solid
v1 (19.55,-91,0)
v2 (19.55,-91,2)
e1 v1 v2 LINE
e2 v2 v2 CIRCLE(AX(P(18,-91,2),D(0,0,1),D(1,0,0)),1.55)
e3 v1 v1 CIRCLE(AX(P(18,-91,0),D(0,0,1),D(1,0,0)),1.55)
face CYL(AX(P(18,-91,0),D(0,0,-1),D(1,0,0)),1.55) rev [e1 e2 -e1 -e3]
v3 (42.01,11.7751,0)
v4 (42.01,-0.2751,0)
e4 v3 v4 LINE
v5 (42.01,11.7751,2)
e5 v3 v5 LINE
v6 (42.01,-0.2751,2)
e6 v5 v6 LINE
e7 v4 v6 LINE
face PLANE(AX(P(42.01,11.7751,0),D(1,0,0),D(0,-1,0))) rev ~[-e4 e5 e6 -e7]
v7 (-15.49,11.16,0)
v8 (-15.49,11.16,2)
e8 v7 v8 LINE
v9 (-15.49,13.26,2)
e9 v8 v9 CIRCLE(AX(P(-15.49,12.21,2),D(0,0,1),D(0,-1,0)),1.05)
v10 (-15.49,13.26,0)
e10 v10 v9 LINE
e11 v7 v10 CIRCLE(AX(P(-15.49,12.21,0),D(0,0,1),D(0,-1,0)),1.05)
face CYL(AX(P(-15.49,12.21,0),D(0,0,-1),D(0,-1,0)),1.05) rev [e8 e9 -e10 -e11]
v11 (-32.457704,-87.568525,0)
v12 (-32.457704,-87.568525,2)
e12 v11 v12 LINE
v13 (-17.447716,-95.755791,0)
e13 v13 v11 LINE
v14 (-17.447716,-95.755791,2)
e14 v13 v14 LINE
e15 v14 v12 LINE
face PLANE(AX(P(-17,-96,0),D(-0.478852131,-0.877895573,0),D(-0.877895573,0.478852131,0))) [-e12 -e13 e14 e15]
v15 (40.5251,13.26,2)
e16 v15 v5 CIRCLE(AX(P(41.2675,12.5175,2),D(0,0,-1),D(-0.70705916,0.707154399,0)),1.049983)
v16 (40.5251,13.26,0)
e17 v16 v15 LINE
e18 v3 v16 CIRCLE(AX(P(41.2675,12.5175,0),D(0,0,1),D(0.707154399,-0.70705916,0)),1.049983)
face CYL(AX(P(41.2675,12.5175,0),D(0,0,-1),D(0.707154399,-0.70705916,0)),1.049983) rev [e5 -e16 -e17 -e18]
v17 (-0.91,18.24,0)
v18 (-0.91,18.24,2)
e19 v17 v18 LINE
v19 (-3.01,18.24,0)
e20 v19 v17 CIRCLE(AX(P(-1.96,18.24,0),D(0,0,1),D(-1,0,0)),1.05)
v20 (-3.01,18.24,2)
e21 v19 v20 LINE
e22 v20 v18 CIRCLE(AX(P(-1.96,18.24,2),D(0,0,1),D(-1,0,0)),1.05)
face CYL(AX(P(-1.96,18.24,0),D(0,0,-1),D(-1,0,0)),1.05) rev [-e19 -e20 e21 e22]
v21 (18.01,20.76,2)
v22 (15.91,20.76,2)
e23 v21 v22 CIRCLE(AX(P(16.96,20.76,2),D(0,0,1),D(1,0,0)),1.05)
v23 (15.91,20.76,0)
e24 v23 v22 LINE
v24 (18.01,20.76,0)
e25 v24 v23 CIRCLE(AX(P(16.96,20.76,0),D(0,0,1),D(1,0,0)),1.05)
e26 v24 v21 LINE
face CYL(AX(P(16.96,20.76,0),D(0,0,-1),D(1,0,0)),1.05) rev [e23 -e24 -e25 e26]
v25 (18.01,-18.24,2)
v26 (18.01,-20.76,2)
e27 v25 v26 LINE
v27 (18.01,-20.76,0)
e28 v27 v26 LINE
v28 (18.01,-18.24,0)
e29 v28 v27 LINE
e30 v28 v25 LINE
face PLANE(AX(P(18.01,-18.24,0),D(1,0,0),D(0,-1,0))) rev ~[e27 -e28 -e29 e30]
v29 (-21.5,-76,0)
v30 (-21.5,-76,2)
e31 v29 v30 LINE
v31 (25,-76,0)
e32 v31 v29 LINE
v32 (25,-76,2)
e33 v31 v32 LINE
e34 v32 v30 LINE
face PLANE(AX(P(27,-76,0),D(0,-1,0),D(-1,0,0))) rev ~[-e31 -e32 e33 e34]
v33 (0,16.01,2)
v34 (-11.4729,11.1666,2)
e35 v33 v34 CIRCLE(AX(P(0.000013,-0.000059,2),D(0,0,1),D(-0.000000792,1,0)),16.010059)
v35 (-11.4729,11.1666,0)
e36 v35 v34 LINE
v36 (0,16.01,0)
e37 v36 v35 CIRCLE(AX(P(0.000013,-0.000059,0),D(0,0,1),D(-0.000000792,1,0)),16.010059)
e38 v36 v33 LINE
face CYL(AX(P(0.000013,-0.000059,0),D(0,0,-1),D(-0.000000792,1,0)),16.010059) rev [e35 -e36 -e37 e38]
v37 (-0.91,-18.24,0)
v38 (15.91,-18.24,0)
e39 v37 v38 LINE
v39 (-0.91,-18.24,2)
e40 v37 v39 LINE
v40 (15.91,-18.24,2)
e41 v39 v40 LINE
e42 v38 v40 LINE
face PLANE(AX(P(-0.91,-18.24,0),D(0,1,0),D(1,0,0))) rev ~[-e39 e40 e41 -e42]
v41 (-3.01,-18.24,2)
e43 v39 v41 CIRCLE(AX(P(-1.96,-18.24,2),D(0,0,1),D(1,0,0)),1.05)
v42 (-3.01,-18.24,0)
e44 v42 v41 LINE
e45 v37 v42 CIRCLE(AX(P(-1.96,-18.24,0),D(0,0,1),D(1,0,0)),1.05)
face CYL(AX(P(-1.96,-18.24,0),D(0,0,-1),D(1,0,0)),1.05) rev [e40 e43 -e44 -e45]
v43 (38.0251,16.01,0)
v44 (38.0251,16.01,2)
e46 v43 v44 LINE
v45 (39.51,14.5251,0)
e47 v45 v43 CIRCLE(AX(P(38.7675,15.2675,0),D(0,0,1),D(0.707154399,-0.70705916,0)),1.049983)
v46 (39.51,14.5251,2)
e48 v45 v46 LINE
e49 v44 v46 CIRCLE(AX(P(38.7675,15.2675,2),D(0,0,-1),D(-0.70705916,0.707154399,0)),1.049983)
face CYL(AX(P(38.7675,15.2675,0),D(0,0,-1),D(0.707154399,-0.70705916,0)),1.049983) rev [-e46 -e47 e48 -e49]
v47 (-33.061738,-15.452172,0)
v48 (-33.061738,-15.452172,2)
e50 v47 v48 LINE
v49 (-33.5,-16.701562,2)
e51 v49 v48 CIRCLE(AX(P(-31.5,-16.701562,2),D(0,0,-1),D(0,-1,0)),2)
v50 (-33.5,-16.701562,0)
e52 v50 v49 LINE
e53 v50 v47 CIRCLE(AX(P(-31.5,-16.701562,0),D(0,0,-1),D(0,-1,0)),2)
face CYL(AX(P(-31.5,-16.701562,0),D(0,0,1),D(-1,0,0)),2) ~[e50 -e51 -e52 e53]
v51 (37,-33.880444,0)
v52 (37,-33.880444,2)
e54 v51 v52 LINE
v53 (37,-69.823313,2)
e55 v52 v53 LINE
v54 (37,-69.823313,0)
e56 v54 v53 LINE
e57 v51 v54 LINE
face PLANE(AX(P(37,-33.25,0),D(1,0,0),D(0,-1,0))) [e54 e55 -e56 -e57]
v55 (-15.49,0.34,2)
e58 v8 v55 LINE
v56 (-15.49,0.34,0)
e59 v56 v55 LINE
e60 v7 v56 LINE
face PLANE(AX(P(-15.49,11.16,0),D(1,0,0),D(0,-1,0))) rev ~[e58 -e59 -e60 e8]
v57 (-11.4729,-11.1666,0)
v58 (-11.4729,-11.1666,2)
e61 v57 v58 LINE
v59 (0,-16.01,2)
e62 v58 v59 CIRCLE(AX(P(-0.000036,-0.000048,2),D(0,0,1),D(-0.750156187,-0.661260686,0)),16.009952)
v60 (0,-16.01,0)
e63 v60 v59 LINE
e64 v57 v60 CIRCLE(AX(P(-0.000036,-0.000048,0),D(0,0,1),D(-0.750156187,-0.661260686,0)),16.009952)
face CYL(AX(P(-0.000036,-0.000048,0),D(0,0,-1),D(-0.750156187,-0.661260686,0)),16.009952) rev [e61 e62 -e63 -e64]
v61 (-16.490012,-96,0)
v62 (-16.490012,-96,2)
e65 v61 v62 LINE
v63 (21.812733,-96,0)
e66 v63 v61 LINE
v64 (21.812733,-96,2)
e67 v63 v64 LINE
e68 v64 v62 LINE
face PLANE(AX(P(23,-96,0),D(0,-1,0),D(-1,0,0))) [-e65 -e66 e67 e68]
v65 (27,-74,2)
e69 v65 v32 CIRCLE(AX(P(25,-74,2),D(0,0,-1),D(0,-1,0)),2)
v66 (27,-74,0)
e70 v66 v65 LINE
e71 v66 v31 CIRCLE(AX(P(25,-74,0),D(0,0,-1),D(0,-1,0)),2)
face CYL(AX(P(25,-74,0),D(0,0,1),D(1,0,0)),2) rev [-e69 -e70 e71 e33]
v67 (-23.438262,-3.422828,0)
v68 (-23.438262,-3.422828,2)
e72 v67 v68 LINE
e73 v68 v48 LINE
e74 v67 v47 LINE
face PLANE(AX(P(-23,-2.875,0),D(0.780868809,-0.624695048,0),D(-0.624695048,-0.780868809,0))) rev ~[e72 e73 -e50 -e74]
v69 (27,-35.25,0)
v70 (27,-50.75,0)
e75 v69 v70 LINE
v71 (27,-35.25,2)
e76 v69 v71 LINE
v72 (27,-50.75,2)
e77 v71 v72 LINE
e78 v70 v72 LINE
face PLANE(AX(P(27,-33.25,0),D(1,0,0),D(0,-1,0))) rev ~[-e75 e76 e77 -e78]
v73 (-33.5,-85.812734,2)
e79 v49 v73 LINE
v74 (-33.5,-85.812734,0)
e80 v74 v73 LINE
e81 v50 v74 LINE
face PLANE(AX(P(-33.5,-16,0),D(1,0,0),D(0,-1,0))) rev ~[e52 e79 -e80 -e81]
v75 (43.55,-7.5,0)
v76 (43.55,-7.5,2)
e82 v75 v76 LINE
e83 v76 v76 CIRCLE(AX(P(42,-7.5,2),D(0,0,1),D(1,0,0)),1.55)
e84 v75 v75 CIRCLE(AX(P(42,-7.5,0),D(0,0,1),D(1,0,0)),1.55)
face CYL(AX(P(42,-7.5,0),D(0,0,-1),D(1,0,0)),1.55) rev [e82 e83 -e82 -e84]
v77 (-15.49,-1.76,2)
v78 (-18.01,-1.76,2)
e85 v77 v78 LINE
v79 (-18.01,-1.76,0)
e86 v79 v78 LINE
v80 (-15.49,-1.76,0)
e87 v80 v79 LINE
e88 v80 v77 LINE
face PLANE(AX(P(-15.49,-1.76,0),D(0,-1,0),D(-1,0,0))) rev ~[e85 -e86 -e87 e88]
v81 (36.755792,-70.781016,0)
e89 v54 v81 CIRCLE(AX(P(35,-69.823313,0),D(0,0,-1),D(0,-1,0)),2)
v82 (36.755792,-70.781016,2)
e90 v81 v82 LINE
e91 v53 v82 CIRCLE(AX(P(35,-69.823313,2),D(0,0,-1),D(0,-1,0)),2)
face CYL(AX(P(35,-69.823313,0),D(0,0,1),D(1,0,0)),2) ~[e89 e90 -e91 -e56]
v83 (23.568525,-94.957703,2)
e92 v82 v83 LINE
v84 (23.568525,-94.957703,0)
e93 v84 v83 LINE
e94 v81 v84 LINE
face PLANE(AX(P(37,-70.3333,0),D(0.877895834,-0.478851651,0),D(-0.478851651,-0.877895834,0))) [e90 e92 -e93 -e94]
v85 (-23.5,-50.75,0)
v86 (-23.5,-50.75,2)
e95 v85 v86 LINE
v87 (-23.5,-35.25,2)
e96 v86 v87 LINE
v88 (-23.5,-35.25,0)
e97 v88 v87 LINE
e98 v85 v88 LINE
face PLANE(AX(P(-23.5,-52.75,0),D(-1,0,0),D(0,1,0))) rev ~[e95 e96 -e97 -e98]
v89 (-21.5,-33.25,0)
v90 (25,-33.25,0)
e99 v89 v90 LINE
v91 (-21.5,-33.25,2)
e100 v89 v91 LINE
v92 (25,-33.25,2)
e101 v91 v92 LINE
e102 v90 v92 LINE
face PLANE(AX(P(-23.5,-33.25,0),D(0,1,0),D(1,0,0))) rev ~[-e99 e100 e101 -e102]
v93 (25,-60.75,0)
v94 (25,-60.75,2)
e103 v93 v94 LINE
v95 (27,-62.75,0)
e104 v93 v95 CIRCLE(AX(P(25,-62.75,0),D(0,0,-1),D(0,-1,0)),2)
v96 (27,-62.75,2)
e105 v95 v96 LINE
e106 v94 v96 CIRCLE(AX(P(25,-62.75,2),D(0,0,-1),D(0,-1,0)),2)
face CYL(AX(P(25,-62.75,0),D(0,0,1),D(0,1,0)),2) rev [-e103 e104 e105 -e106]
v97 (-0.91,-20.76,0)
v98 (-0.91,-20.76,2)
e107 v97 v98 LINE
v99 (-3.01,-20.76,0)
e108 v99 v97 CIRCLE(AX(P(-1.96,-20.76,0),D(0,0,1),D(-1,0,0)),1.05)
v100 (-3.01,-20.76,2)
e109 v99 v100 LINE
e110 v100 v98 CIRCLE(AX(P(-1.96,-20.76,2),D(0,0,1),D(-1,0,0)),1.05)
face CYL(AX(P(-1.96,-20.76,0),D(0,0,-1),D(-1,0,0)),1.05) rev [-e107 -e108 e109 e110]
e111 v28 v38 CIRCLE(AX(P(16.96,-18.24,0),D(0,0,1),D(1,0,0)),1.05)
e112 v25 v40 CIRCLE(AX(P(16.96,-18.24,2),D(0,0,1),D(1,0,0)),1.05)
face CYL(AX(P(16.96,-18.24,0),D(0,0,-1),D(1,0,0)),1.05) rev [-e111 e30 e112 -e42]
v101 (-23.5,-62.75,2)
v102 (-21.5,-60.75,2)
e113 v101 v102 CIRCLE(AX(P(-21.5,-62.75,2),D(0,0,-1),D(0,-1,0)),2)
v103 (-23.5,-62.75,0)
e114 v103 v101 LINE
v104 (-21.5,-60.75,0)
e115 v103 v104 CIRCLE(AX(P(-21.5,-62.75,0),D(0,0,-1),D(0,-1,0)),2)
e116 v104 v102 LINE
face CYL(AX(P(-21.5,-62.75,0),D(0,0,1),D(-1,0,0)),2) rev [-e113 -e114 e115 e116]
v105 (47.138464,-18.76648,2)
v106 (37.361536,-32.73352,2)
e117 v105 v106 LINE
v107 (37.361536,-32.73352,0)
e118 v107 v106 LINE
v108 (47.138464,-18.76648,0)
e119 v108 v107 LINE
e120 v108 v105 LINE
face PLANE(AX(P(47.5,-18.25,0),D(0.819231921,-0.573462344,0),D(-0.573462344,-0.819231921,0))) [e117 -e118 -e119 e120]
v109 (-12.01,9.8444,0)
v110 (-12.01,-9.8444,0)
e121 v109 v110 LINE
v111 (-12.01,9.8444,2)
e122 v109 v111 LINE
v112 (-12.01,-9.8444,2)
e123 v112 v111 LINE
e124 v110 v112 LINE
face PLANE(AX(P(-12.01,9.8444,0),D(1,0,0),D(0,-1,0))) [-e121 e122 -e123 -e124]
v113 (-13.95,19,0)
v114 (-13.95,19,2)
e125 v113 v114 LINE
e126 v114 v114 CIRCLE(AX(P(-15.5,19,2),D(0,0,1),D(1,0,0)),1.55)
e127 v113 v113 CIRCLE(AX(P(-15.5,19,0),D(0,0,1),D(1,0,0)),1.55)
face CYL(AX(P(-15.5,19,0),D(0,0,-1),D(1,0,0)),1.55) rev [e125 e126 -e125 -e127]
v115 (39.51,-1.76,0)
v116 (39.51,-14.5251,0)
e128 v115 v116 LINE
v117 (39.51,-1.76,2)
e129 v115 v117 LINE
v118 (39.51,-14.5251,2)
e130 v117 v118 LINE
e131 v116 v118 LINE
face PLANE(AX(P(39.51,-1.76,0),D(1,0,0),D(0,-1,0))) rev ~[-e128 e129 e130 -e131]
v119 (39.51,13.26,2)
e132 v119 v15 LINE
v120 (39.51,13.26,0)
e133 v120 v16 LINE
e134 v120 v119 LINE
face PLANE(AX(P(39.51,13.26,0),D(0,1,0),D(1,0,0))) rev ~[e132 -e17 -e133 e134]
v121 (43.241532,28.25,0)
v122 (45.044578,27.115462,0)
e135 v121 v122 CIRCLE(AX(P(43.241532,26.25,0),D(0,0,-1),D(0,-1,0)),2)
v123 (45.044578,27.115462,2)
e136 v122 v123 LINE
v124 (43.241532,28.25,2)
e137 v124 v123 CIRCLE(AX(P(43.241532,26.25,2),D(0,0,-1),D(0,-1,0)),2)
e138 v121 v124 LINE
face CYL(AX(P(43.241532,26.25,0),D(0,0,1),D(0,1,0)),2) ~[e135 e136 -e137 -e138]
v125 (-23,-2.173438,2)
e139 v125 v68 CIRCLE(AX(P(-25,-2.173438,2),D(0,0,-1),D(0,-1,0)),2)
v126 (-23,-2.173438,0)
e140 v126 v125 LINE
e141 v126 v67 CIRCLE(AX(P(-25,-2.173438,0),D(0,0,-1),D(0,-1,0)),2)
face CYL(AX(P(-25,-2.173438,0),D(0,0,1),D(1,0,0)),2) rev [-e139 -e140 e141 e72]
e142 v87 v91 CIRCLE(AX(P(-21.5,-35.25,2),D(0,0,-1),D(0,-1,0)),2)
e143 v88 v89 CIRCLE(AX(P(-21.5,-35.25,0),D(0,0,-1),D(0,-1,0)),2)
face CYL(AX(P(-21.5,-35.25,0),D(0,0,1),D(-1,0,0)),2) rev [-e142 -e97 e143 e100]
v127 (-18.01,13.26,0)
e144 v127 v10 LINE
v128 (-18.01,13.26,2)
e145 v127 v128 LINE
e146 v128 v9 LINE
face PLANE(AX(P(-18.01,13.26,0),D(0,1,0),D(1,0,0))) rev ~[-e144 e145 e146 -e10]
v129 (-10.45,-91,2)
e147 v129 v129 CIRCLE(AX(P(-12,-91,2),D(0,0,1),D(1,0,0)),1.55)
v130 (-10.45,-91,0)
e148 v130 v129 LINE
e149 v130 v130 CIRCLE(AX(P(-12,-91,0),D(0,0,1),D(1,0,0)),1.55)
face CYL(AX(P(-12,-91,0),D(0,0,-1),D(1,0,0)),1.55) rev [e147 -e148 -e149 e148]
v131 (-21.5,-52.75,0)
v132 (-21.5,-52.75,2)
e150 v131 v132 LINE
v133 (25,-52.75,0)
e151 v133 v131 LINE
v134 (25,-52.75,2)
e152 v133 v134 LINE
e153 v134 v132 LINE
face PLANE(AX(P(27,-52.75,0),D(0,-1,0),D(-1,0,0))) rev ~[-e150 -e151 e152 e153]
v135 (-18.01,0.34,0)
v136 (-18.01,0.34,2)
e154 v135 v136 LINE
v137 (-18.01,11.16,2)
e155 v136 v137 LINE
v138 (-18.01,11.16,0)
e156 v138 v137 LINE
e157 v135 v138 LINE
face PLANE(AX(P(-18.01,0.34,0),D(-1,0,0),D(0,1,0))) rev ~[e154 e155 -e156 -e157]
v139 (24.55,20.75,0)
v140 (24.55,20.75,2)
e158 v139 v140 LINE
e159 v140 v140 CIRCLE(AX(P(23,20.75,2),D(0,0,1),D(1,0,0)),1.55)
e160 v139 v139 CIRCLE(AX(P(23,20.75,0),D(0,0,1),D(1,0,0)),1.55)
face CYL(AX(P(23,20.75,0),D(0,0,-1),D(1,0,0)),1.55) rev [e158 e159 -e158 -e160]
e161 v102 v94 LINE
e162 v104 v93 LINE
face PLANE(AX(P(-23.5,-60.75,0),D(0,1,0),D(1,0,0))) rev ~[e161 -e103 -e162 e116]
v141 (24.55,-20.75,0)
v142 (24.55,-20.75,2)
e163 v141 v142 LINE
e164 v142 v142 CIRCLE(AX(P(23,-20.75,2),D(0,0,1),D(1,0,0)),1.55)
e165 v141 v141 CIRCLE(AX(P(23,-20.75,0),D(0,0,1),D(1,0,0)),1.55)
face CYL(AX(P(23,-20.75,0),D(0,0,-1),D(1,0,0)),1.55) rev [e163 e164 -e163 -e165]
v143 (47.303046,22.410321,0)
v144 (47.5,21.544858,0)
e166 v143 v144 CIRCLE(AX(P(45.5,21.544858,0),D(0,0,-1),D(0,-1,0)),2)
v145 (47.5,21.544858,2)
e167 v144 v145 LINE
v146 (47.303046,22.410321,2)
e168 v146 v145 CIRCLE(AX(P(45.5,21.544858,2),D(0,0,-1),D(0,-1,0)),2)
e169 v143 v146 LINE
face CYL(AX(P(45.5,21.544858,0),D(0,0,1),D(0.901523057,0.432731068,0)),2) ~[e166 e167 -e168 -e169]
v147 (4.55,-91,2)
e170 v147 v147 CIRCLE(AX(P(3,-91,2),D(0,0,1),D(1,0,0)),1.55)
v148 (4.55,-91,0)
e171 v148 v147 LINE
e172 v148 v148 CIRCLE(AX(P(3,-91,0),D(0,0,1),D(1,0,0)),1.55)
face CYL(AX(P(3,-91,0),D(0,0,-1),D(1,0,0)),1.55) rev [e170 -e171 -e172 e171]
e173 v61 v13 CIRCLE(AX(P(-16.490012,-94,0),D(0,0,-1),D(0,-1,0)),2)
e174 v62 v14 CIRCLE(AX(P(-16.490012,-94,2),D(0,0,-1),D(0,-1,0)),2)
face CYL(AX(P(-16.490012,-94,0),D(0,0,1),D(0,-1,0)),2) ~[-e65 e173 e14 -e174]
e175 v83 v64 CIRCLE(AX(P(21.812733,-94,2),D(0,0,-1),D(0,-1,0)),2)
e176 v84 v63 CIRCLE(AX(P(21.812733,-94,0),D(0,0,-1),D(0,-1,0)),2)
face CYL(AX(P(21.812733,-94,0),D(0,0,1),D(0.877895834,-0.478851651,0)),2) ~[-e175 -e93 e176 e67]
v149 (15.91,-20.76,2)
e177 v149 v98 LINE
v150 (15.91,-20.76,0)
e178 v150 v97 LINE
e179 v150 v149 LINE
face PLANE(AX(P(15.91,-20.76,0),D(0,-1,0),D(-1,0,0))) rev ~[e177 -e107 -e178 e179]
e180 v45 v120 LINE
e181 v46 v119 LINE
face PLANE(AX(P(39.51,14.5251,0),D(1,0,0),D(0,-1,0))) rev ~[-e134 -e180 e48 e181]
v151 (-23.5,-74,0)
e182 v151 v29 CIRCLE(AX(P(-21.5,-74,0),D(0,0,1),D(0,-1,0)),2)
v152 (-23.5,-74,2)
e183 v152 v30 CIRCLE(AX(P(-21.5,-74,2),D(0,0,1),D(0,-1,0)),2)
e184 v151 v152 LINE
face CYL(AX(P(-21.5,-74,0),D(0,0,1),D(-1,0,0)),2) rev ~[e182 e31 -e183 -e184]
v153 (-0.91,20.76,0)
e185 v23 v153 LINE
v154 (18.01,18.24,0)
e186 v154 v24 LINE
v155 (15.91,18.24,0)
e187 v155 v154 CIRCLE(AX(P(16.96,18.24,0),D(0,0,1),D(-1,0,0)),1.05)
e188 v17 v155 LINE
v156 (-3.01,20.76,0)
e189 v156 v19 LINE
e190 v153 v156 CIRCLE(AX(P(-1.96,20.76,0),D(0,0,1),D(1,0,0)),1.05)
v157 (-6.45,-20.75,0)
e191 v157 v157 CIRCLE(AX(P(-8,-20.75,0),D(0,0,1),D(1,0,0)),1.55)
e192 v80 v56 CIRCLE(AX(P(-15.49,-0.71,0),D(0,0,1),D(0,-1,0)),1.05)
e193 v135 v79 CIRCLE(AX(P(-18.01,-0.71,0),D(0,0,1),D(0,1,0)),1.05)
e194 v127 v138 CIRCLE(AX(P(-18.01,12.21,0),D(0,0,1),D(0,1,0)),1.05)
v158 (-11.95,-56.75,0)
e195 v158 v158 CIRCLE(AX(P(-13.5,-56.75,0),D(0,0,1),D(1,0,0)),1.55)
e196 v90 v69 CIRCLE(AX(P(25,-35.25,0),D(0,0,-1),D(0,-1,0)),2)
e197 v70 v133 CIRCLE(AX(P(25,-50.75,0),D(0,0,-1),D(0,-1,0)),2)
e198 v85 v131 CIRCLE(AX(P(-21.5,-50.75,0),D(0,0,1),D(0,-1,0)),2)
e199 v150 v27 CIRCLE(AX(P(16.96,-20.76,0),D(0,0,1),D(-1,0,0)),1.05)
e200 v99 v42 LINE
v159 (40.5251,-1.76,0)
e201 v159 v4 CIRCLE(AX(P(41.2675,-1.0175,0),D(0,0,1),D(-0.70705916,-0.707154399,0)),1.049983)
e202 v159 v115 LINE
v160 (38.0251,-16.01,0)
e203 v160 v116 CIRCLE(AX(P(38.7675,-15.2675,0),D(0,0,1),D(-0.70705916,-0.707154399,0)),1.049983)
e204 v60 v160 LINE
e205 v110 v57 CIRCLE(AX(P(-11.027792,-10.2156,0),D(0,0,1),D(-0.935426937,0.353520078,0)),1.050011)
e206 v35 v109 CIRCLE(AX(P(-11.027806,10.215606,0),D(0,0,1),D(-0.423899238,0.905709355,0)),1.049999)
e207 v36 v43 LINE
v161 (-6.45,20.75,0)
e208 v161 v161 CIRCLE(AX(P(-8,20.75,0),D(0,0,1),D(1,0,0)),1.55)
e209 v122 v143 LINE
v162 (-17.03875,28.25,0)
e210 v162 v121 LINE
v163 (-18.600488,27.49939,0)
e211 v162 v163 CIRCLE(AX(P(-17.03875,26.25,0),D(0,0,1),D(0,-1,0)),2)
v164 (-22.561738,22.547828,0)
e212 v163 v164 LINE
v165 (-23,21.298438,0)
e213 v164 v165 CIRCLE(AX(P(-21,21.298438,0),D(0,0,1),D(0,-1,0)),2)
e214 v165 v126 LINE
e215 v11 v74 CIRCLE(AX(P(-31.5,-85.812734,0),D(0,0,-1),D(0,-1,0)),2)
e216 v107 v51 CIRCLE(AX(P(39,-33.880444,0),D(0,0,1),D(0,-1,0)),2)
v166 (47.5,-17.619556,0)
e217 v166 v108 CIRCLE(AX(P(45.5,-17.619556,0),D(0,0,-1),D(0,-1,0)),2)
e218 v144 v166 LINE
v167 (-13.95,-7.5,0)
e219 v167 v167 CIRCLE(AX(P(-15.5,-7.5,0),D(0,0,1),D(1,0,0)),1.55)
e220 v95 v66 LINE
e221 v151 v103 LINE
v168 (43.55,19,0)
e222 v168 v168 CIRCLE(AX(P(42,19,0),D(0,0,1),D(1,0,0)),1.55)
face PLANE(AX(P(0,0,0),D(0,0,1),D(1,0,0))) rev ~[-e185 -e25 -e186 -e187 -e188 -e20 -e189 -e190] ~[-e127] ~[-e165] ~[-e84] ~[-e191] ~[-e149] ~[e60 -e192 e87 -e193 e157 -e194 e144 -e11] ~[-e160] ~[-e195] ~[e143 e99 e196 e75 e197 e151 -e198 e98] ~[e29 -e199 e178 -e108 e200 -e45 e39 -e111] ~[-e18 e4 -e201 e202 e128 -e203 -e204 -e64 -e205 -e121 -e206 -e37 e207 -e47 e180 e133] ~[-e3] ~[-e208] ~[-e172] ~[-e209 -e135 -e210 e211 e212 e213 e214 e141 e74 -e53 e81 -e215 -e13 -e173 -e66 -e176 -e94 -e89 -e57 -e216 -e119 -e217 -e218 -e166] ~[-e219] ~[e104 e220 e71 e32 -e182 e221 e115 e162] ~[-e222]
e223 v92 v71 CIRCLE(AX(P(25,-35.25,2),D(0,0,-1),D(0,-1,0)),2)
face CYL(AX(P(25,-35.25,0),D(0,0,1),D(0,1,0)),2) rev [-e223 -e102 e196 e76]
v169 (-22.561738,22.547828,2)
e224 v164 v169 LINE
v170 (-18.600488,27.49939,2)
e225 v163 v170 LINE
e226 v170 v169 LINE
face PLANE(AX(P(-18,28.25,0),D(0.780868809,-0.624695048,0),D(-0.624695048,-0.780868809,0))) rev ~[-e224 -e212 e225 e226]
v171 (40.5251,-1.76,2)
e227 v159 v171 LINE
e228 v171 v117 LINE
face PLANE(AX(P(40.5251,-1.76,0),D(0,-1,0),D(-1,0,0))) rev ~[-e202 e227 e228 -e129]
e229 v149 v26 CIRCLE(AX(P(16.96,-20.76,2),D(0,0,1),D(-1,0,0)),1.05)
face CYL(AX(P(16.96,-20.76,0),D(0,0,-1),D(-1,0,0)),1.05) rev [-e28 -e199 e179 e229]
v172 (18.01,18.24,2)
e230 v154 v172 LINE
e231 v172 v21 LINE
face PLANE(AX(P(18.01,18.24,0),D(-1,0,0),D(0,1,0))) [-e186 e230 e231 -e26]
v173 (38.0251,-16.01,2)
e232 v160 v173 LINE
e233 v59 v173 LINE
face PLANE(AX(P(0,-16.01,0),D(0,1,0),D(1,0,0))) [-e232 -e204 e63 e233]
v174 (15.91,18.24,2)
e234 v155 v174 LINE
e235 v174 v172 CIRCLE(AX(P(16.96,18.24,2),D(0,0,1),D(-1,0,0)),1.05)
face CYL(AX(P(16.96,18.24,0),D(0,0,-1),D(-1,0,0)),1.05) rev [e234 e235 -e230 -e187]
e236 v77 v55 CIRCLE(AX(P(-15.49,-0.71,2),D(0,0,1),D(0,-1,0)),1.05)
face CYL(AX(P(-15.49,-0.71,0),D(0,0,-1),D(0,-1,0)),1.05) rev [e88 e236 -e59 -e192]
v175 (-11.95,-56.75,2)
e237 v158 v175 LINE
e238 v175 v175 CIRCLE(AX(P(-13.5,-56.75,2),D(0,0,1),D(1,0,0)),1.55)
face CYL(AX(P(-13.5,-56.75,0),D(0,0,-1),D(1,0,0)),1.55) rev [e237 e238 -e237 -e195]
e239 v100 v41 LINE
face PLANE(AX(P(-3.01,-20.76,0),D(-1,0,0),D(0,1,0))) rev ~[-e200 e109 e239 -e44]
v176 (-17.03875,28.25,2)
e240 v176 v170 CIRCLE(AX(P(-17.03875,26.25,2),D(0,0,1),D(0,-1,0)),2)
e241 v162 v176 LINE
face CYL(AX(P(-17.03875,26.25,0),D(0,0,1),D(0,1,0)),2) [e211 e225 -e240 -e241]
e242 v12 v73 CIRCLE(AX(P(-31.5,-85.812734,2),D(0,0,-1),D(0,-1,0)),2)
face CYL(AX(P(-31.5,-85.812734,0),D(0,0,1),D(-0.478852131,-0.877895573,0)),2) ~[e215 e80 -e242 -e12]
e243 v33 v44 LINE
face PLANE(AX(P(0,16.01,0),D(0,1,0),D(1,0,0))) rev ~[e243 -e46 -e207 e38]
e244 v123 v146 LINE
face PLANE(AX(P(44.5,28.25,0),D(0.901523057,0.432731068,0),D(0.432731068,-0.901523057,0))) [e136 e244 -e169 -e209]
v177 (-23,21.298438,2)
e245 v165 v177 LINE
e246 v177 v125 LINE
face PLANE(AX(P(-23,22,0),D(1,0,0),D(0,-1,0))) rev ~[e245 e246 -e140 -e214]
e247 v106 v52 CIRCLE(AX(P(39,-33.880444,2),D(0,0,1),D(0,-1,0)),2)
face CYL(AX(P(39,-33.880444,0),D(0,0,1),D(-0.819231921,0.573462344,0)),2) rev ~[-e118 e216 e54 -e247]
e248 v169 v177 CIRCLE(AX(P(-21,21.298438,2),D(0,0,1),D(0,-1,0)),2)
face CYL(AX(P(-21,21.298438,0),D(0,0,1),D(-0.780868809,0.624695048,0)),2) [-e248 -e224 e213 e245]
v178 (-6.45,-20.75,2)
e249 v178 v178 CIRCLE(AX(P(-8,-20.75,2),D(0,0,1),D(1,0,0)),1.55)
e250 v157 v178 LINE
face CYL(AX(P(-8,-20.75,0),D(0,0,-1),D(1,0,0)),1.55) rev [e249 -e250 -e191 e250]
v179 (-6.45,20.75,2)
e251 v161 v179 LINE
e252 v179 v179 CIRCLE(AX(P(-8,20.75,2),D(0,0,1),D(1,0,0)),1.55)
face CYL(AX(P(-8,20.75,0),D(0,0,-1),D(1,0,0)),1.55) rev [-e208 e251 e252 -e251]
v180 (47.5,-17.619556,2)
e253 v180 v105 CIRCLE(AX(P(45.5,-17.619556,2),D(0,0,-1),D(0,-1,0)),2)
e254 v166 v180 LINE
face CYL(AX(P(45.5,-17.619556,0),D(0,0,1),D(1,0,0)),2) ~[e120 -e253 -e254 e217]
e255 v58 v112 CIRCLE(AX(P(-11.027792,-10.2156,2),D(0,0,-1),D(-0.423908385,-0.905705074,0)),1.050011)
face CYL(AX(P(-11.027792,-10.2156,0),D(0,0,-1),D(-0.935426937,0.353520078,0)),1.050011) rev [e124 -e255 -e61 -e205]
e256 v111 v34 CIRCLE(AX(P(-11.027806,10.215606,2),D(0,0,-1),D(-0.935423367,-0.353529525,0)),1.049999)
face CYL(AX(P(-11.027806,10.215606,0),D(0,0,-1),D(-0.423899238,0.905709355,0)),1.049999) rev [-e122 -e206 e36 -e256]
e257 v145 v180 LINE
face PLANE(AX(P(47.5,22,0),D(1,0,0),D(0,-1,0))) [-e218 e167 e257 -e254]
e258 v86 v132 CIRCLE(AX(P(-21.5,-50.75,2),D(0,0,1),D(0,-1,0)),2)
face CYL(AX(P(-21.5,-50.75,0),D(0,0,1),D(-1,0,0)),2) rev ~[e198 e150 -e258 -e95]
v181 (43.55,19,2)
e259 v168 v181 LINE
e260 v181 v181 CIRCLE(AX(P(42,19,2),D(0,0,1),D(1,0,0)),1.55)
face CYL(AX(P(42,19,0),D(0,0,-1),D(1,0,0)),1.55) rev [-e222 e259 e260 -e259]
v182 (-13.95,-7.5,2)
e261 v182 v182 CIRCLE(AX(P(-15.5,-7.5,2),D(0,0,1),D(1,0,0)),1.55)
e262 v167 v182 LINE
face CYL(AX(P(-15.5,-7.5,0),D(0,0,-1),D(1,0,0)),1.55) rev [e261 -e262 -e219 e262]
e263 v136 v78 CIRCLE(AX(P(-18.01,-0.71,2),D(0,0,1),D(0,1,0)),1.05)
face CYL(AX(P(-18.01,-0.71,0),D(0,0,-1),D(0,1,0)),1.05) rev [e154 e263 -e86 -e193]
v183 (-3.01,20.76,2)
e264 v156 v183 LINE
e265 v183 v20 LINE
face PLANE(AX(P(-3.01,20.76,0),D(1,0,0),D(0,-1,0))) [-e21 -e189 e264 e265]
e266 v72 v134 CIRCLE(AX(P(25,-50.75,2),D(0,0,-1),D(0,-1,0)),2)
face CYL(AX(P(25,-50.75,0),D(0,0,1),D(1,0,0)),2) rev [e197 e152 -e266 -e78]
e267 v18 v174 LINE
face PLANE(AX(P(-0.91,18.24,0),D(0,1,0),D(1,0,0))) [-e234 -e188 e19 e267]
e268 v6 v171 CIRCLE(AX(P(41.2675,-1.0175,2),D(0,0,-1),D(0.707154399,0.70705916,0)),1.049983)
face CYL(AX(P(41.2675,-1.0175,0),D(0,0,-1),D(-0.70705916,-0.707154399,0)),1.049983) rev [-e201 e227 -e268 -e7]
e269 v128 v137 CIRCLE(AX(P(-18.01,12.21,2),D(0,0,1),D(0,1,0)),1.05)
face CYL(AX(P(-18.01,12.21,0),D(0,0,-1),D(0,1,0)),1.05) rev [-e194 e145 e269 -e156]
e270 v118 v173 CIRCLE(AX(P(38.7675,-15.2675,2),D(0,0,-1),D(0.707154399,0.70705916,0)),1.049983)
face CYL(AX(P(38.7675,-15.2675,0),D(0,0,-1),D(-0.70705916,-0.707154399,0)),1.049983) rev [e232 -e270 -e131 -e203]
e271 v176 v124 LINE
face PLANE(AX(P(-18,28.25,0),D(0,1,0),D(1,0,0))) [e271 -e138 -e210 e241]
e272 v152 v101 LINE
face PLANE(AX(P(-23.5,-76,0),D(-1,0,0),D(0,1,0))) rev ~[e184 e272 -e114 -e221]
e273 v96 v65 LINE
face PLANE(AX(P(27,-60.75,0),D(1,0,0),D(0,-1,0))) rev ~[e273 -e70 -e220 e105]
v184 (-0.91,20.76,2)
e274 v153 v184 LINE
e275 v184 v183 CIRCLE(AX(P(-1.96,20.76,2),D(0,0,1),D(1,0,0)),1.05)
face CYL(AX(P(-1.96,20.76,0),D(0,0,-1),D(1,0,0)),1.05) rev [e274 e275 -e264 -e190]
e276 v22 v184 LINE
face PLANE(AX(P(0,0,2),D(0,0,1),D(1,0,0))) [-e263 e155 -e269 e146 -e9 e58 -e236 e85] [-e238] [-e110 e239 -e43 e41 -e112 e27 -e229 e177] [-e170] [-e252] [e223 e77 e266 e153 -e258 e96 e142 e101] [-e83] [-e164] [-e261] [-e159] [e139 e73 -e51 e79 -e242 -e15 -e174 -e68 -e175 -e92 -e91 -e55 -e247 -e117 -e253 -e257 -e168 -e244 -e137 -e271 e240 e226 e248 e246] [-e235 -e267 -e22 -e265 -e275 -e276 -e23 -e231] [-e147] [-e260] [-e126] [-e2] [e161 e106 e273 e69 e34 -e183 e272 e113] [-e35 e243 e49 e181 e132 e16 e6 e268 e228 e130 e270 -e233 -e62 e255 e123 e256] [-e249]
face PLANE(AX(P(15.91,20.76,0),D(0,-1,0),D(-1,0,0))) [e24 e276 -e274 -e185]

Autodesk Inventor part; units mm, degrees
ref_plane "YZ Plane" through (0, 0, 0) normal (1, 0, 0) x (0, 1, 0)
ref_plane "XZ Plane" through (0, 0, 0) normal (0, 1, 0) x (-1, 0, 0)
ref_plane "XY Plane" through (0, 0, 0) normal (0, 0, 1) x (1, 0, 0)
sketch "スケッチ1" plane through (0, 0, 0) normal (0, 0, 1) x (1, 0, 0)
  circle A0 centre (0, 0) radius 11
  line L0 (1, 13.5) -> (28, 13.5) construction
  line L1 (28, 13.5) -> (28, -13.5) construction
  line L2 (28, -13.5) -> (1, -13.5) construction
  line L3 (1, -13.5) -> (1, 13.5) construction
  line L4 (1, 13.5) -> (28, -13.5) construction
  line L5 (28, 13.5) -> (1, -13.5) construction
  line L6 (-12, 16) -> (39.5, 16) construction
  line L7 (39.5, 16) -> (39.5, -16) construction
  line L8 (39.5, -16) -> (-12, -16) construction
  line L9 (-12, -16) -> (-12, 16) construction
  line L10 (-12, 16) -> (39.5, -16) construction
  line L11 (39.5, 16) -> (-12, -16) construction
  circle A1 centre (1, 13.5) radius 1.35
  arc A2 (0, 16) -> (-12, 10.583) centre (0, 0) ccw construction
  line L12 (-12, 0) -> (39.5, 0)
  circle A3 centre (28, 13.5) radius 1.35
  arc A4 (-12, -10.583) -> (0, -16) centre (0, 0) ccw construction
  circle A5 centre (1, -13.5) radius 1.35
  circle A6 centre (28, -13.5) radius 1.35
  arc A7 (0, 16.01) -> (-12.01, 10.5868) centre (0, 0) ccw
  line L13 (0, 16.01) -> (39.51, 16.01)
  line L14 (39.51, 16.01) -> (39.51, 13.26)
  line L15 (-12.01, 10.5868) -> (-12.01, 0)
  arc A8 (-11.4729, 11.1666) -> (-12.01, 9.8444) centre (-11.0278, 10.2156) ccw
  line L16 (-12.01, 10.5868) -> (-11.0278, 10.2156) construction
  arc A9 (39.51, 14.5251) -> (38.0251, 16.01) centre (38.7675, 15.2675) ccw
  line L17 (38.7675, 15.2675) -> (39.51, 16.01) construction
  arc A10 (-12.01, -10.5868) -> (0, -16.01) centre (0, 0) ccw
  line L18 (0, -16.01) -> (39.51, -16.01)
  line L19 (-12.01, -10.5868) -> (-12.01, 0)
  arc A11 (-12.01, -9.8444) -> (-11.4729, -11.1666) centre (-11.0278, -10.2156) ccw
  arc A12 (38.0251, -16.01) -> (39.51, -14.5251) centre (38.7675, -15.2675) ccw
  line L20 (39.51, 13.26) -> (42.01, 13.26)
  line L21 (42.01, 13.26) -> (42.01, -1.76)
  line L22 (42.01, -1.76) -> (39.51, -1.76)
  line L23 (39.51, -1.76) -> (39.51, -14.5251)
  line L24 (39.5, 13.25) -> (42, 13.25) construction
  line L25 (42, 13.25) -> (42, -1.75) construction
  line L26 (42, -1.75) -> (39.5, -1.75) construction
  line L27 (42, 5.75) -> (39.5, 5.75) construction
  arc A13 (42.01, 11.7751) -> (40.5251, 13.26) centre (41.2675, 12.5175) ccw
  line L28 (41.2675, 12.5175) -> (42.01, 13.26) construction
  arc A14 (40.5251, -1.76) -> (42.01, -0.2751) centre (41.2675, -1.0175) ccw
  circle A15 centre (-15.5, 19) radius 1.55
  line L29 (-18, 22) -> (-13, 22) construction
  line L30 (-13, 22) -> (-13, -10.5) construction
  line L31 (-13, -10.5) -> (-18, -10.5) construction
  line L32 (-18, -10.5) -> (-18, 22) construction
  line L33 (-18, 22) -> (-13, -10.5) construction
  line L34 (-13, 22) -> (-18, -10.5) construction
  line L35 (-18, 5.75) -> (-13, 5.75) construction
  line L36 (-15.5, 22) -> (-15.5, -10.5) construction
  line L37 (-18, 13.25) -> (-15.5, 13.25) construction
  line L38 (-15.5, 13.25) -> (-15.5, -1.75) construction
  line L39 (-15.5, -1.75) -> (-18, -1.75) construction
  line L40 (-18, 13.25) -> (-15.5, -1.75) construction
  line L41 (-15.5, 13.25) -> (-18, -1.75) construction
  line L42 (-15.49, -1.76) -> (-18.01, -1.76)
  line L43 (-18.01, -1.76) -> (-18.01, 13.26)
  line L44 (-18.01, 13.26) -> (-15.49, 13.26)
  line L45 (-15.49, 13.26) -> (-15.49, -1.76)
  line L46 (-15.49, -1.76) -> (-18.01, 13.26) construction
  line L47 (-18.01, -1.76) -> (-15.49, 13.26) construction
  line L48 (-16.75, 13.26) -> (-16.75, -1.76) construction
  arc A16 (-18.01, 13.26) -> (-18.01, 11.16) centre (-18.01, 12.21) ccw
  arc A17 (-15.49, 11.16) -> (-15.49, 13.26) centre (-15.49, 12.21) ccw
  arc A18 (-18.01, 0.34) -> (-18.01, -1.76) centre (-18.01, -0.71) ccw
  arc A19 (-15.49, -1.76) -> (-15.49, 0.34) centre (-15.49, -0.71) ccw
  circle A20 centre (-15.5, -7.5) radius 1.55
  line L49 (14.5, 16) -> (14.5, -16) construction
  circle A21 centre (42, 19) radius 1.55
  line L50 (39.5, 22) -> (44.5, 22) construction
  line L51 (44.5, 22) -> (44.5, -10.5) construction
  line L52 (44.5, -10.5) -> (39.5, -10.5) construction
  line L53 (39.5, 22) -> (44.5, -10.5) construction
  line L54 (44.5, 22) -> (39.5, -10.5) construction
  line L55 (42, 22) -> (42, -10.5) construction
  circle A22 centre (42, -7.5) radius 1.55
  line L56 (-12, -18.25) -> (27, -18.25) construction
  line L57 (27, -18.25) -> (27, -23.25) construction
  line L58 (27, -23.25) -> (-12, -23.25) construction
  line L59 (-12, -23.25) -> (-12, -18.25) construction
  line L60 (-12, -18.25) -> (27, -23.25) construction
  line L61 (27, -18.25) -> (-12, -23.25) construction
  line L62 (-3, -20.75) -> (18, -20.75) construction
  line L63 (18, -20.75) -> (18, -18.25) construction
  line L64 (-3, -18.25) -> (-3, -20.75) construction
  line L65 (-3, -20.75) -> (18, -18.25) construction
  line L66 (18, -20.75) -> (-3, -18.25) construction
  line L67 (-12, -20.75) -> (27, -20.75) construction
  line L68 (7.5, -18.25) -> (7.5, -23.25) construction
  line L69 (-3.01, -18.24) -> (18.01, -18.24)
  line L70 (18.01, -18.24) -> (18.01, -20.76)
  line L71 (18.01, -20.76) -> (-3.01, -20.76)
  line L72 (-3.01, -20.76) -> (-3.01, -18.24)
  line L73 (-3.01, -18.24) -> (18.01, -20.76) construction
  line L74 (18.01, -18.24) -> (-3.01, -20.76) construction
  circle A23 centre (-8, -20.75) radius 1.55
  circle A24 centre (23, -20.75) radius 1.55
  arc A25 (-0.91, -18.24) -> (-3.01, -18.24) centre (-1.96, -18.24) ccw
  arc A26 (18.01, -18.24) -> (15.91, -18.24) centre (16.96, -18.24) ccw
  line L75 (-3.01, -19.5) -> (18.01, -19.5) construction
  arc A27 (-3.01, -20.76) -> (-0.91, -20.76) centre (-1.96, -20.76) ccw
  arc A28 (15.91, -20.76) -> (18.01, -20.76) centre (16.96, -20.76) ccw
  line L76 (-12, 18.25) -> (27, 18.25) construction
  line L77 (27, 18.25) -> (27, 23.25) construction
  line L78 (27, 23.25) -> (-12, 23.25) construction
  line L79 (-12, 23.25) -> (-12, 18.25) construction
  line L80 (-12, 18.25) -> (27, 23.25) construction
  line L81 (27, 18.25) -> (-12, 23.25) construction
  line L82 (-3, 20.75) -> (18, 20.75) construction
  line L83 (18, 20.75) -> (18, 18.25) construction
  line L84 (-3, 18.25) -> (-3, 20.75) construction
  line L85 (-3, 20.75) -> (18, 18.25) construction
  line L86 (18, 20.75) -> (-3, 18.25) construction
  line L87 (-12, 20.75) -> (27, 20.75) construction
  line L88 (7.5, 18.25) -> (7.5, 23.25) construction
  line L89 (-3.01, 18.24) -> (18.01, 18.24)
  line L90 (18.01, 18.24) -> (18.01, 20.76)
  line L91 (18.01, 20.76) -> (-3.01, 20.76)
  line L92 (-3.01, 20.76) -> (-3.01, 18.24)
  line L93 (-3.01, 18.24) -> (18.01, 20.76) construction
  line L94 (18.01, 18.24) -> (-3.01, 20.76) construction
  circle A29 centre (-8, 20.75) radius 1.55
  circle A30 centre (23, 20.75) radius 1.55
  arc A31 (-3.01, 18.24) -> (-0.91, 18.24) centre (-1.96, 18.24) ccw
  arc A32 (15.91, 18.24) -> (18.01, 18.24) centre (16.96, 18.24) ccw
  line L95 (-3.01, 19.5) -> (18.01, 19.5) construction
  arc A33 (-0.91, 20.76) -> (-3.01, 20.76) centre (-1.96, 20.76) ccw
  arc A34 (18.01, 20.76) -> (15.91, 20.76) centre (16.96, 20.76) ccw
  line L96 (-18, 28.25) -> (44.5, 28.25)
  line L97 (-18, 28.25) -> (-23, 22)
  line L98 (44.5, 28.25) -> (47.5, 22)
  line L99 (-23, 22) -> (-23, -2.875)
  line L100 (47.5, 22) -> (47.5, -18.25)
  line L101 (47.5, -18.25) -> (37, -33.25)
  line L102 (-23, -2.875) -> (-33.5, -16)
  line L103 (-33.5, -16) -> (-33.5, -87)
  line L104 (37, -33.25) -> (37, -70.3333)
  line L105 (37, -70.3333) -> (23, -96)
  line L106 (23, -96) -> (-17, -96)
  line L107 (-17, -96) -> (-33.5, -87)
  circle A35 centre (-12, -91) radius 1.55
  circle A36 centre (3, -91) radius 1.55
  line L108 (-17, -96) -> (-17, -86) construction
  line L109 (-17, -86) -> (23, -86) construction
  line L110 (23, -86) -> (23, -96) construction
  line L111 (-17, -91) -> (23, -91) construction
  line L112 (3, -86) -> (3, -96) construction
  circle A37 centre (18, -91) radius 1.55
  circle A38 centre (-13.5, -56.75) radius 1.55
  line L113 (-23.5, -60.75) -> (27, -60.75)
  line L114 (27, -60.75) -> (27, -76)
  line L115 (27, -76) -> (-23.5, -76)
  line L116 (-23.5, -76) -> (-23.5, -60.75)
  line L117 (-23.5, -33.25) -> (27, -33.25)
  line L118 (27, -33.25) -> (27, -52.75)
  line L119 (27, -52.75) -> (-23.5, -52.75)
  line L120 (-23.5, -52.75) -> (-23.5, -33.25)
  circle A39 centre (-13.5, -56.75) radius 4 construction
  line L121 (-9.8815, -89.1493) -> (-9.338, -90.0907)
  line L122 (-9.338, -91.9093) -> (-9.8815, -92.8507)
  line L123 (-11.4565, -93.76) -> (-12.5435, -93.76)
  line L124 (-14.1185, -92.8507) -> (-14.662, -91.9093)
  line L125 (-14.662, -90.0907) -> (-14.1185, -89.1493)
  line L126 (-12.5435, -88.24) -> (-11.4565, -88.24)
  arc A40 (-9.8815, -89.1493) -> (-11.4565, -88.24) centre (-10.9315, -89.1493) ccw
  arc A41 (-12.5435, -88.24) -> (-14.1185, -89.1493) centre (-13.0685, -89.1493) ccw
  arc A42 (-14.662, -90.0907) -> (-14.662, -91.9093) centre (-14.137, -91) ccw
  arc A43 (-14.1185, -92.8507) -> (-12.5435, -93.76) centre (-13.0685, -92.8507) ccw
  arc A44 (-11.4565, -93.76) -> (-9.8815, -92.8507) centre (-10.9315, -92.8507) ccw
  arc A45 (-9.338, -91.9093) -> (-9.338, -90.0907) centre (-9.863, -91) ccw
  arc A46 (5.662, -91.9093) -> (5.662, -90.0907) centre (5.137, -91) ccw
  line L127 (5.1185, -89.1493) -> (5.662, -90.0907)
  line L128 (5.662, -91.9093) -> (5.1185, -92.8507)
  arc A47 (3.5435, -93.76) -> (5.1185, -92.8507) centre (4.0685, -92.8507) ccw
  arc A48 (5.1185, -89.1493) -> (3.5435, -88.24) centre (4.0685, -89.1493) ccw
  line L129 (2.4565, -88.24) -> (3.5435, -88.24)
  arc A49 (2.4565, -88.24) -> (0.8815, -89.1493) centre (1.9315, -89.1493) ccw
  line L130 (0.338, -90.0907) -> (0.8815, -89.1493)
  arc A50 (0.338, -90.0907) -> (0.338, -91.9093) centre (0.863, -91) ccw
  line L131 (0.8815, -92.8507) -> (0.338, -91.9093)
  arc A51 (0.8815, -92.8507) -> (2.4565, -93.76) centre (1.9315, -92.8507) ccw
  line L132 (3.5435, -93.76) -> (2.4565, -93.76)
  arc A52 (20.662, -91.9093) -> (20.662, -90.0907) centre (20.137, -91) ccw
  line L133 (20.1185, -89.1493) -> (20.662, -90.0907)
  line L134 (20.662, -91.9093) -> (20.1185, -92.8507)
  arc A53 (18.5435, -93.76) -> (20.1185, -92.8507) centre (19.0685, -92.8507) ccw
  arc A54 (20.1185, -89.1493) -> (18.5435, -88.24) centre (19.0685, -89.1493) ccw
  line L135 (17.4565, -88.24) -> (18.5435, -88.24)
  arc A55 (17.4565, -88.24) -> (15.8815, -89.1493) centre (16.9315, -89.1493) ccw
  line L136 (15.338, -90.0907) -> (15.8815, -89.1493)
  arc A56 (15.338, -90.0907) -> (15.338, -91.9093) centre (15.863, -91) ccw
  line L137 (15.8815, -92.8507) -> (15.338, -91.9093)
  arc A57 (15.8815, -92.8507) -> (17.4565, -93.76) centre (16.9315, -92.8507) ccw
  line L138 (18.5435, -93.76) -> (17.4565, -93.76)
  point P0 (14.5, 0)
  point P1 (-15.5, 5.75)
  point P2 (-16.75, 5.75)
  point P3 (14.5, 0)
  point P4 (42, 5.75)
  point P5 (42, 5.75)
  point P6 (7.5, -20.75)
  point P7 (7.5, -19.5)
  point P8 (7.5, -19.5)
  point P9 (7.5, -19.5)
  point P10 (7.5, -19.5)
  point P11 (7.5, 20.75)
  point P12 (7.5, 19.5)
  point P13 (7.5, 19.5)
  point P14 (7.5, 19.5)
  point P15 (7.5, 19.5)
  point P16 (-0.91, 20.76)
  point P17 (15.91, 20.76)
  point P18 (15.91, 18.24)
  point P19 (15.91, -20.76)
  point P20 (-0.91, -20.76)
  point P21 (15.91, -18.24)
  point P22 (-18.01, 0.34)
  point P23 (-15.49, 0.34)
  point P24 (42.01, -0.2751)
  point P25 (-10.4065, -88.24)
  point P26 (-13.5935, -88.24)
  point P27 (-15.187, -91)
  point P28 (-13.5935, -93.76)
  point P29 (-10.4065, -93.76)
  point P30 (-8.813, -91)
  point P31 (-13.5935, -88.24)
  point P32 (-15.187, -91)
  point P33 (-8.813, -91)
  point P34 (3, -91)
  point P35 (6.187, -91)
  point P36 (6.187, -91)
  point P37 (4.5935, -88.24)
  point P38 (4.5935, -93.76)
  point P39 (3, -91)
  point P40 (3, -91)
  point P41 (1.4065, -88.24)
  point P42 (1.4065, -88.24)
  point P43 (-0.187, -91)
  point P44 (-0.187, -91)
  point P45 (1.4065, -93.76)
  point P46 (18, -91)
  point P47 (21.187, -91)
  point P48 (21.187, -91)
  point P49 (19.5935, -88.24)
  point P50 (19.5935, -93.76)
  point P51 (18, -91)
  point P52 (18, -91)
  point P53 (16.4065, -88.24)
  point P54 (16.4065, -88.24)
  point P55 (14.813, -91)
  point P56 (14.813, -91)
  point P57 (16.4065, -93.76)
  dimension "d0" = 22
  dimension "d1" = 27
  dimension "d2" = 27
  dimension "d4" = 51.5
  dimension "d5" = 32
  dimension "d7" = 1
  dimension "d8" = 2.7
  dimension "d9" = 16
  dimension "d10" = 2.7
  dimension "d13" = 12
  dimension "d15" = 0.01
  dimension "d16" = 0.01
  dimension "d17" = 1.05
  dimension "d18" = 0.01
  dimension "d19" = 1.05
  dimension "d21" = 15
  dimension "d23" = 0.01
  dimension "d24" = 0.01
  dimension "d25" = 0.01
  dimension "d26" = 1.05
  dimension "d27" = 3.1
  dimension "d28" = 5
  dimension "d29" = 2.5
  dimension "d30" = 15
  dimension "d31" = 32.5
  dimension "d32" = 2.52
  dimension "d33" = 15.02
  dimension "d34" = 1.05
  dimension "d35" = 26.5
  dimension "d36" = 5.5
  dimension "d37" = 2.5
  dimension "d38" = 3.1
  dimension "d39" = 5
  dimension "d40" = 32.5
  dimension "d41" = 26.5
  dimension "d42" = 39
  dimension "d43" = 5
  dimension "d44" = 21
  dimension "d45" = 2.5
  dimension "d46" = 21.02
  dimension "d47" = 2.52
  dimension "d48" = 2.25
  dimension "d49" = 3.1
  dimension "d50" = 31
  dimension "d52" = 1.05
  dimension "d53" = 5
  dimension "d55" = 5
  dimension "d56" = 3
  dimension "d57" = 20.5
  dimension "d60" = 40
  dimension "d61" = 9
  dimension "d63" = 3.1
  dimension "d64" = 3.1
  dimension "d66" = 10
  dimension "d69" = 5
  dimension "d70" = 30
  dimension "d71" = 3.1
  dimension "d72" = 29.25
  dimension "d73" = 20
  dimension "d74" = 8
  dimension "d75" = 10
  dimension "d76" = 10
  dimension "d77" = 10
  dimension "d78" = 10
extrude "押し出し1" add sketch "スケッチ1" along normal blind 2 contours L96 L98 L100 L101 L104 L105 L106 L107 L103 L102 L99 L97 | L121 A45 L122 A44 L123 A43 L124 A42 L125 A41 L126 A40 | L128 A47 L132 A51 L131 A50 L130 A49 L129 A48 L127 A46 | L134 A53 L138 A57 L137 A56 L136 A55 L135 A54 L133 A52
fillet "フィレット1" radius 2 12 edges at (-17, -96, 1) (-33.5, -87, 1) (-33.5, -16, 1) (-23, -2.875, 1) (23, -96, 1) (37, -70.3333, 1) (37, -33.25, 1) (47.5, -18.25, 1) (47.5, 22, 1) (44.5, 28.25, 1) (-23, 22, 1) (-18, 28.25, 1)
fillet "フィレット2" radius 2 8 edges at (-23.5, -33.25, 1) (-23.5, -52.75, 1) (27, -52.75, 1) (27, -33.25, 1) (-23.5, -76, 1) (-23.5, -60.75, 1) (27, -76, 1) (27, -60.75, 1)
equation "\"d10\" = d8"
equation "\"d16\" = d15"
equation "\"d18\" = d15"
equation "\"d19\" = d17"
equation "\"d23\" = d15"
equation "\"d24\" = d23"
equation "\"d25\" = d15"
equation "\"d26\" = d17"
properties part number "Trunk_vertical_frame_03" material "GFRP"
